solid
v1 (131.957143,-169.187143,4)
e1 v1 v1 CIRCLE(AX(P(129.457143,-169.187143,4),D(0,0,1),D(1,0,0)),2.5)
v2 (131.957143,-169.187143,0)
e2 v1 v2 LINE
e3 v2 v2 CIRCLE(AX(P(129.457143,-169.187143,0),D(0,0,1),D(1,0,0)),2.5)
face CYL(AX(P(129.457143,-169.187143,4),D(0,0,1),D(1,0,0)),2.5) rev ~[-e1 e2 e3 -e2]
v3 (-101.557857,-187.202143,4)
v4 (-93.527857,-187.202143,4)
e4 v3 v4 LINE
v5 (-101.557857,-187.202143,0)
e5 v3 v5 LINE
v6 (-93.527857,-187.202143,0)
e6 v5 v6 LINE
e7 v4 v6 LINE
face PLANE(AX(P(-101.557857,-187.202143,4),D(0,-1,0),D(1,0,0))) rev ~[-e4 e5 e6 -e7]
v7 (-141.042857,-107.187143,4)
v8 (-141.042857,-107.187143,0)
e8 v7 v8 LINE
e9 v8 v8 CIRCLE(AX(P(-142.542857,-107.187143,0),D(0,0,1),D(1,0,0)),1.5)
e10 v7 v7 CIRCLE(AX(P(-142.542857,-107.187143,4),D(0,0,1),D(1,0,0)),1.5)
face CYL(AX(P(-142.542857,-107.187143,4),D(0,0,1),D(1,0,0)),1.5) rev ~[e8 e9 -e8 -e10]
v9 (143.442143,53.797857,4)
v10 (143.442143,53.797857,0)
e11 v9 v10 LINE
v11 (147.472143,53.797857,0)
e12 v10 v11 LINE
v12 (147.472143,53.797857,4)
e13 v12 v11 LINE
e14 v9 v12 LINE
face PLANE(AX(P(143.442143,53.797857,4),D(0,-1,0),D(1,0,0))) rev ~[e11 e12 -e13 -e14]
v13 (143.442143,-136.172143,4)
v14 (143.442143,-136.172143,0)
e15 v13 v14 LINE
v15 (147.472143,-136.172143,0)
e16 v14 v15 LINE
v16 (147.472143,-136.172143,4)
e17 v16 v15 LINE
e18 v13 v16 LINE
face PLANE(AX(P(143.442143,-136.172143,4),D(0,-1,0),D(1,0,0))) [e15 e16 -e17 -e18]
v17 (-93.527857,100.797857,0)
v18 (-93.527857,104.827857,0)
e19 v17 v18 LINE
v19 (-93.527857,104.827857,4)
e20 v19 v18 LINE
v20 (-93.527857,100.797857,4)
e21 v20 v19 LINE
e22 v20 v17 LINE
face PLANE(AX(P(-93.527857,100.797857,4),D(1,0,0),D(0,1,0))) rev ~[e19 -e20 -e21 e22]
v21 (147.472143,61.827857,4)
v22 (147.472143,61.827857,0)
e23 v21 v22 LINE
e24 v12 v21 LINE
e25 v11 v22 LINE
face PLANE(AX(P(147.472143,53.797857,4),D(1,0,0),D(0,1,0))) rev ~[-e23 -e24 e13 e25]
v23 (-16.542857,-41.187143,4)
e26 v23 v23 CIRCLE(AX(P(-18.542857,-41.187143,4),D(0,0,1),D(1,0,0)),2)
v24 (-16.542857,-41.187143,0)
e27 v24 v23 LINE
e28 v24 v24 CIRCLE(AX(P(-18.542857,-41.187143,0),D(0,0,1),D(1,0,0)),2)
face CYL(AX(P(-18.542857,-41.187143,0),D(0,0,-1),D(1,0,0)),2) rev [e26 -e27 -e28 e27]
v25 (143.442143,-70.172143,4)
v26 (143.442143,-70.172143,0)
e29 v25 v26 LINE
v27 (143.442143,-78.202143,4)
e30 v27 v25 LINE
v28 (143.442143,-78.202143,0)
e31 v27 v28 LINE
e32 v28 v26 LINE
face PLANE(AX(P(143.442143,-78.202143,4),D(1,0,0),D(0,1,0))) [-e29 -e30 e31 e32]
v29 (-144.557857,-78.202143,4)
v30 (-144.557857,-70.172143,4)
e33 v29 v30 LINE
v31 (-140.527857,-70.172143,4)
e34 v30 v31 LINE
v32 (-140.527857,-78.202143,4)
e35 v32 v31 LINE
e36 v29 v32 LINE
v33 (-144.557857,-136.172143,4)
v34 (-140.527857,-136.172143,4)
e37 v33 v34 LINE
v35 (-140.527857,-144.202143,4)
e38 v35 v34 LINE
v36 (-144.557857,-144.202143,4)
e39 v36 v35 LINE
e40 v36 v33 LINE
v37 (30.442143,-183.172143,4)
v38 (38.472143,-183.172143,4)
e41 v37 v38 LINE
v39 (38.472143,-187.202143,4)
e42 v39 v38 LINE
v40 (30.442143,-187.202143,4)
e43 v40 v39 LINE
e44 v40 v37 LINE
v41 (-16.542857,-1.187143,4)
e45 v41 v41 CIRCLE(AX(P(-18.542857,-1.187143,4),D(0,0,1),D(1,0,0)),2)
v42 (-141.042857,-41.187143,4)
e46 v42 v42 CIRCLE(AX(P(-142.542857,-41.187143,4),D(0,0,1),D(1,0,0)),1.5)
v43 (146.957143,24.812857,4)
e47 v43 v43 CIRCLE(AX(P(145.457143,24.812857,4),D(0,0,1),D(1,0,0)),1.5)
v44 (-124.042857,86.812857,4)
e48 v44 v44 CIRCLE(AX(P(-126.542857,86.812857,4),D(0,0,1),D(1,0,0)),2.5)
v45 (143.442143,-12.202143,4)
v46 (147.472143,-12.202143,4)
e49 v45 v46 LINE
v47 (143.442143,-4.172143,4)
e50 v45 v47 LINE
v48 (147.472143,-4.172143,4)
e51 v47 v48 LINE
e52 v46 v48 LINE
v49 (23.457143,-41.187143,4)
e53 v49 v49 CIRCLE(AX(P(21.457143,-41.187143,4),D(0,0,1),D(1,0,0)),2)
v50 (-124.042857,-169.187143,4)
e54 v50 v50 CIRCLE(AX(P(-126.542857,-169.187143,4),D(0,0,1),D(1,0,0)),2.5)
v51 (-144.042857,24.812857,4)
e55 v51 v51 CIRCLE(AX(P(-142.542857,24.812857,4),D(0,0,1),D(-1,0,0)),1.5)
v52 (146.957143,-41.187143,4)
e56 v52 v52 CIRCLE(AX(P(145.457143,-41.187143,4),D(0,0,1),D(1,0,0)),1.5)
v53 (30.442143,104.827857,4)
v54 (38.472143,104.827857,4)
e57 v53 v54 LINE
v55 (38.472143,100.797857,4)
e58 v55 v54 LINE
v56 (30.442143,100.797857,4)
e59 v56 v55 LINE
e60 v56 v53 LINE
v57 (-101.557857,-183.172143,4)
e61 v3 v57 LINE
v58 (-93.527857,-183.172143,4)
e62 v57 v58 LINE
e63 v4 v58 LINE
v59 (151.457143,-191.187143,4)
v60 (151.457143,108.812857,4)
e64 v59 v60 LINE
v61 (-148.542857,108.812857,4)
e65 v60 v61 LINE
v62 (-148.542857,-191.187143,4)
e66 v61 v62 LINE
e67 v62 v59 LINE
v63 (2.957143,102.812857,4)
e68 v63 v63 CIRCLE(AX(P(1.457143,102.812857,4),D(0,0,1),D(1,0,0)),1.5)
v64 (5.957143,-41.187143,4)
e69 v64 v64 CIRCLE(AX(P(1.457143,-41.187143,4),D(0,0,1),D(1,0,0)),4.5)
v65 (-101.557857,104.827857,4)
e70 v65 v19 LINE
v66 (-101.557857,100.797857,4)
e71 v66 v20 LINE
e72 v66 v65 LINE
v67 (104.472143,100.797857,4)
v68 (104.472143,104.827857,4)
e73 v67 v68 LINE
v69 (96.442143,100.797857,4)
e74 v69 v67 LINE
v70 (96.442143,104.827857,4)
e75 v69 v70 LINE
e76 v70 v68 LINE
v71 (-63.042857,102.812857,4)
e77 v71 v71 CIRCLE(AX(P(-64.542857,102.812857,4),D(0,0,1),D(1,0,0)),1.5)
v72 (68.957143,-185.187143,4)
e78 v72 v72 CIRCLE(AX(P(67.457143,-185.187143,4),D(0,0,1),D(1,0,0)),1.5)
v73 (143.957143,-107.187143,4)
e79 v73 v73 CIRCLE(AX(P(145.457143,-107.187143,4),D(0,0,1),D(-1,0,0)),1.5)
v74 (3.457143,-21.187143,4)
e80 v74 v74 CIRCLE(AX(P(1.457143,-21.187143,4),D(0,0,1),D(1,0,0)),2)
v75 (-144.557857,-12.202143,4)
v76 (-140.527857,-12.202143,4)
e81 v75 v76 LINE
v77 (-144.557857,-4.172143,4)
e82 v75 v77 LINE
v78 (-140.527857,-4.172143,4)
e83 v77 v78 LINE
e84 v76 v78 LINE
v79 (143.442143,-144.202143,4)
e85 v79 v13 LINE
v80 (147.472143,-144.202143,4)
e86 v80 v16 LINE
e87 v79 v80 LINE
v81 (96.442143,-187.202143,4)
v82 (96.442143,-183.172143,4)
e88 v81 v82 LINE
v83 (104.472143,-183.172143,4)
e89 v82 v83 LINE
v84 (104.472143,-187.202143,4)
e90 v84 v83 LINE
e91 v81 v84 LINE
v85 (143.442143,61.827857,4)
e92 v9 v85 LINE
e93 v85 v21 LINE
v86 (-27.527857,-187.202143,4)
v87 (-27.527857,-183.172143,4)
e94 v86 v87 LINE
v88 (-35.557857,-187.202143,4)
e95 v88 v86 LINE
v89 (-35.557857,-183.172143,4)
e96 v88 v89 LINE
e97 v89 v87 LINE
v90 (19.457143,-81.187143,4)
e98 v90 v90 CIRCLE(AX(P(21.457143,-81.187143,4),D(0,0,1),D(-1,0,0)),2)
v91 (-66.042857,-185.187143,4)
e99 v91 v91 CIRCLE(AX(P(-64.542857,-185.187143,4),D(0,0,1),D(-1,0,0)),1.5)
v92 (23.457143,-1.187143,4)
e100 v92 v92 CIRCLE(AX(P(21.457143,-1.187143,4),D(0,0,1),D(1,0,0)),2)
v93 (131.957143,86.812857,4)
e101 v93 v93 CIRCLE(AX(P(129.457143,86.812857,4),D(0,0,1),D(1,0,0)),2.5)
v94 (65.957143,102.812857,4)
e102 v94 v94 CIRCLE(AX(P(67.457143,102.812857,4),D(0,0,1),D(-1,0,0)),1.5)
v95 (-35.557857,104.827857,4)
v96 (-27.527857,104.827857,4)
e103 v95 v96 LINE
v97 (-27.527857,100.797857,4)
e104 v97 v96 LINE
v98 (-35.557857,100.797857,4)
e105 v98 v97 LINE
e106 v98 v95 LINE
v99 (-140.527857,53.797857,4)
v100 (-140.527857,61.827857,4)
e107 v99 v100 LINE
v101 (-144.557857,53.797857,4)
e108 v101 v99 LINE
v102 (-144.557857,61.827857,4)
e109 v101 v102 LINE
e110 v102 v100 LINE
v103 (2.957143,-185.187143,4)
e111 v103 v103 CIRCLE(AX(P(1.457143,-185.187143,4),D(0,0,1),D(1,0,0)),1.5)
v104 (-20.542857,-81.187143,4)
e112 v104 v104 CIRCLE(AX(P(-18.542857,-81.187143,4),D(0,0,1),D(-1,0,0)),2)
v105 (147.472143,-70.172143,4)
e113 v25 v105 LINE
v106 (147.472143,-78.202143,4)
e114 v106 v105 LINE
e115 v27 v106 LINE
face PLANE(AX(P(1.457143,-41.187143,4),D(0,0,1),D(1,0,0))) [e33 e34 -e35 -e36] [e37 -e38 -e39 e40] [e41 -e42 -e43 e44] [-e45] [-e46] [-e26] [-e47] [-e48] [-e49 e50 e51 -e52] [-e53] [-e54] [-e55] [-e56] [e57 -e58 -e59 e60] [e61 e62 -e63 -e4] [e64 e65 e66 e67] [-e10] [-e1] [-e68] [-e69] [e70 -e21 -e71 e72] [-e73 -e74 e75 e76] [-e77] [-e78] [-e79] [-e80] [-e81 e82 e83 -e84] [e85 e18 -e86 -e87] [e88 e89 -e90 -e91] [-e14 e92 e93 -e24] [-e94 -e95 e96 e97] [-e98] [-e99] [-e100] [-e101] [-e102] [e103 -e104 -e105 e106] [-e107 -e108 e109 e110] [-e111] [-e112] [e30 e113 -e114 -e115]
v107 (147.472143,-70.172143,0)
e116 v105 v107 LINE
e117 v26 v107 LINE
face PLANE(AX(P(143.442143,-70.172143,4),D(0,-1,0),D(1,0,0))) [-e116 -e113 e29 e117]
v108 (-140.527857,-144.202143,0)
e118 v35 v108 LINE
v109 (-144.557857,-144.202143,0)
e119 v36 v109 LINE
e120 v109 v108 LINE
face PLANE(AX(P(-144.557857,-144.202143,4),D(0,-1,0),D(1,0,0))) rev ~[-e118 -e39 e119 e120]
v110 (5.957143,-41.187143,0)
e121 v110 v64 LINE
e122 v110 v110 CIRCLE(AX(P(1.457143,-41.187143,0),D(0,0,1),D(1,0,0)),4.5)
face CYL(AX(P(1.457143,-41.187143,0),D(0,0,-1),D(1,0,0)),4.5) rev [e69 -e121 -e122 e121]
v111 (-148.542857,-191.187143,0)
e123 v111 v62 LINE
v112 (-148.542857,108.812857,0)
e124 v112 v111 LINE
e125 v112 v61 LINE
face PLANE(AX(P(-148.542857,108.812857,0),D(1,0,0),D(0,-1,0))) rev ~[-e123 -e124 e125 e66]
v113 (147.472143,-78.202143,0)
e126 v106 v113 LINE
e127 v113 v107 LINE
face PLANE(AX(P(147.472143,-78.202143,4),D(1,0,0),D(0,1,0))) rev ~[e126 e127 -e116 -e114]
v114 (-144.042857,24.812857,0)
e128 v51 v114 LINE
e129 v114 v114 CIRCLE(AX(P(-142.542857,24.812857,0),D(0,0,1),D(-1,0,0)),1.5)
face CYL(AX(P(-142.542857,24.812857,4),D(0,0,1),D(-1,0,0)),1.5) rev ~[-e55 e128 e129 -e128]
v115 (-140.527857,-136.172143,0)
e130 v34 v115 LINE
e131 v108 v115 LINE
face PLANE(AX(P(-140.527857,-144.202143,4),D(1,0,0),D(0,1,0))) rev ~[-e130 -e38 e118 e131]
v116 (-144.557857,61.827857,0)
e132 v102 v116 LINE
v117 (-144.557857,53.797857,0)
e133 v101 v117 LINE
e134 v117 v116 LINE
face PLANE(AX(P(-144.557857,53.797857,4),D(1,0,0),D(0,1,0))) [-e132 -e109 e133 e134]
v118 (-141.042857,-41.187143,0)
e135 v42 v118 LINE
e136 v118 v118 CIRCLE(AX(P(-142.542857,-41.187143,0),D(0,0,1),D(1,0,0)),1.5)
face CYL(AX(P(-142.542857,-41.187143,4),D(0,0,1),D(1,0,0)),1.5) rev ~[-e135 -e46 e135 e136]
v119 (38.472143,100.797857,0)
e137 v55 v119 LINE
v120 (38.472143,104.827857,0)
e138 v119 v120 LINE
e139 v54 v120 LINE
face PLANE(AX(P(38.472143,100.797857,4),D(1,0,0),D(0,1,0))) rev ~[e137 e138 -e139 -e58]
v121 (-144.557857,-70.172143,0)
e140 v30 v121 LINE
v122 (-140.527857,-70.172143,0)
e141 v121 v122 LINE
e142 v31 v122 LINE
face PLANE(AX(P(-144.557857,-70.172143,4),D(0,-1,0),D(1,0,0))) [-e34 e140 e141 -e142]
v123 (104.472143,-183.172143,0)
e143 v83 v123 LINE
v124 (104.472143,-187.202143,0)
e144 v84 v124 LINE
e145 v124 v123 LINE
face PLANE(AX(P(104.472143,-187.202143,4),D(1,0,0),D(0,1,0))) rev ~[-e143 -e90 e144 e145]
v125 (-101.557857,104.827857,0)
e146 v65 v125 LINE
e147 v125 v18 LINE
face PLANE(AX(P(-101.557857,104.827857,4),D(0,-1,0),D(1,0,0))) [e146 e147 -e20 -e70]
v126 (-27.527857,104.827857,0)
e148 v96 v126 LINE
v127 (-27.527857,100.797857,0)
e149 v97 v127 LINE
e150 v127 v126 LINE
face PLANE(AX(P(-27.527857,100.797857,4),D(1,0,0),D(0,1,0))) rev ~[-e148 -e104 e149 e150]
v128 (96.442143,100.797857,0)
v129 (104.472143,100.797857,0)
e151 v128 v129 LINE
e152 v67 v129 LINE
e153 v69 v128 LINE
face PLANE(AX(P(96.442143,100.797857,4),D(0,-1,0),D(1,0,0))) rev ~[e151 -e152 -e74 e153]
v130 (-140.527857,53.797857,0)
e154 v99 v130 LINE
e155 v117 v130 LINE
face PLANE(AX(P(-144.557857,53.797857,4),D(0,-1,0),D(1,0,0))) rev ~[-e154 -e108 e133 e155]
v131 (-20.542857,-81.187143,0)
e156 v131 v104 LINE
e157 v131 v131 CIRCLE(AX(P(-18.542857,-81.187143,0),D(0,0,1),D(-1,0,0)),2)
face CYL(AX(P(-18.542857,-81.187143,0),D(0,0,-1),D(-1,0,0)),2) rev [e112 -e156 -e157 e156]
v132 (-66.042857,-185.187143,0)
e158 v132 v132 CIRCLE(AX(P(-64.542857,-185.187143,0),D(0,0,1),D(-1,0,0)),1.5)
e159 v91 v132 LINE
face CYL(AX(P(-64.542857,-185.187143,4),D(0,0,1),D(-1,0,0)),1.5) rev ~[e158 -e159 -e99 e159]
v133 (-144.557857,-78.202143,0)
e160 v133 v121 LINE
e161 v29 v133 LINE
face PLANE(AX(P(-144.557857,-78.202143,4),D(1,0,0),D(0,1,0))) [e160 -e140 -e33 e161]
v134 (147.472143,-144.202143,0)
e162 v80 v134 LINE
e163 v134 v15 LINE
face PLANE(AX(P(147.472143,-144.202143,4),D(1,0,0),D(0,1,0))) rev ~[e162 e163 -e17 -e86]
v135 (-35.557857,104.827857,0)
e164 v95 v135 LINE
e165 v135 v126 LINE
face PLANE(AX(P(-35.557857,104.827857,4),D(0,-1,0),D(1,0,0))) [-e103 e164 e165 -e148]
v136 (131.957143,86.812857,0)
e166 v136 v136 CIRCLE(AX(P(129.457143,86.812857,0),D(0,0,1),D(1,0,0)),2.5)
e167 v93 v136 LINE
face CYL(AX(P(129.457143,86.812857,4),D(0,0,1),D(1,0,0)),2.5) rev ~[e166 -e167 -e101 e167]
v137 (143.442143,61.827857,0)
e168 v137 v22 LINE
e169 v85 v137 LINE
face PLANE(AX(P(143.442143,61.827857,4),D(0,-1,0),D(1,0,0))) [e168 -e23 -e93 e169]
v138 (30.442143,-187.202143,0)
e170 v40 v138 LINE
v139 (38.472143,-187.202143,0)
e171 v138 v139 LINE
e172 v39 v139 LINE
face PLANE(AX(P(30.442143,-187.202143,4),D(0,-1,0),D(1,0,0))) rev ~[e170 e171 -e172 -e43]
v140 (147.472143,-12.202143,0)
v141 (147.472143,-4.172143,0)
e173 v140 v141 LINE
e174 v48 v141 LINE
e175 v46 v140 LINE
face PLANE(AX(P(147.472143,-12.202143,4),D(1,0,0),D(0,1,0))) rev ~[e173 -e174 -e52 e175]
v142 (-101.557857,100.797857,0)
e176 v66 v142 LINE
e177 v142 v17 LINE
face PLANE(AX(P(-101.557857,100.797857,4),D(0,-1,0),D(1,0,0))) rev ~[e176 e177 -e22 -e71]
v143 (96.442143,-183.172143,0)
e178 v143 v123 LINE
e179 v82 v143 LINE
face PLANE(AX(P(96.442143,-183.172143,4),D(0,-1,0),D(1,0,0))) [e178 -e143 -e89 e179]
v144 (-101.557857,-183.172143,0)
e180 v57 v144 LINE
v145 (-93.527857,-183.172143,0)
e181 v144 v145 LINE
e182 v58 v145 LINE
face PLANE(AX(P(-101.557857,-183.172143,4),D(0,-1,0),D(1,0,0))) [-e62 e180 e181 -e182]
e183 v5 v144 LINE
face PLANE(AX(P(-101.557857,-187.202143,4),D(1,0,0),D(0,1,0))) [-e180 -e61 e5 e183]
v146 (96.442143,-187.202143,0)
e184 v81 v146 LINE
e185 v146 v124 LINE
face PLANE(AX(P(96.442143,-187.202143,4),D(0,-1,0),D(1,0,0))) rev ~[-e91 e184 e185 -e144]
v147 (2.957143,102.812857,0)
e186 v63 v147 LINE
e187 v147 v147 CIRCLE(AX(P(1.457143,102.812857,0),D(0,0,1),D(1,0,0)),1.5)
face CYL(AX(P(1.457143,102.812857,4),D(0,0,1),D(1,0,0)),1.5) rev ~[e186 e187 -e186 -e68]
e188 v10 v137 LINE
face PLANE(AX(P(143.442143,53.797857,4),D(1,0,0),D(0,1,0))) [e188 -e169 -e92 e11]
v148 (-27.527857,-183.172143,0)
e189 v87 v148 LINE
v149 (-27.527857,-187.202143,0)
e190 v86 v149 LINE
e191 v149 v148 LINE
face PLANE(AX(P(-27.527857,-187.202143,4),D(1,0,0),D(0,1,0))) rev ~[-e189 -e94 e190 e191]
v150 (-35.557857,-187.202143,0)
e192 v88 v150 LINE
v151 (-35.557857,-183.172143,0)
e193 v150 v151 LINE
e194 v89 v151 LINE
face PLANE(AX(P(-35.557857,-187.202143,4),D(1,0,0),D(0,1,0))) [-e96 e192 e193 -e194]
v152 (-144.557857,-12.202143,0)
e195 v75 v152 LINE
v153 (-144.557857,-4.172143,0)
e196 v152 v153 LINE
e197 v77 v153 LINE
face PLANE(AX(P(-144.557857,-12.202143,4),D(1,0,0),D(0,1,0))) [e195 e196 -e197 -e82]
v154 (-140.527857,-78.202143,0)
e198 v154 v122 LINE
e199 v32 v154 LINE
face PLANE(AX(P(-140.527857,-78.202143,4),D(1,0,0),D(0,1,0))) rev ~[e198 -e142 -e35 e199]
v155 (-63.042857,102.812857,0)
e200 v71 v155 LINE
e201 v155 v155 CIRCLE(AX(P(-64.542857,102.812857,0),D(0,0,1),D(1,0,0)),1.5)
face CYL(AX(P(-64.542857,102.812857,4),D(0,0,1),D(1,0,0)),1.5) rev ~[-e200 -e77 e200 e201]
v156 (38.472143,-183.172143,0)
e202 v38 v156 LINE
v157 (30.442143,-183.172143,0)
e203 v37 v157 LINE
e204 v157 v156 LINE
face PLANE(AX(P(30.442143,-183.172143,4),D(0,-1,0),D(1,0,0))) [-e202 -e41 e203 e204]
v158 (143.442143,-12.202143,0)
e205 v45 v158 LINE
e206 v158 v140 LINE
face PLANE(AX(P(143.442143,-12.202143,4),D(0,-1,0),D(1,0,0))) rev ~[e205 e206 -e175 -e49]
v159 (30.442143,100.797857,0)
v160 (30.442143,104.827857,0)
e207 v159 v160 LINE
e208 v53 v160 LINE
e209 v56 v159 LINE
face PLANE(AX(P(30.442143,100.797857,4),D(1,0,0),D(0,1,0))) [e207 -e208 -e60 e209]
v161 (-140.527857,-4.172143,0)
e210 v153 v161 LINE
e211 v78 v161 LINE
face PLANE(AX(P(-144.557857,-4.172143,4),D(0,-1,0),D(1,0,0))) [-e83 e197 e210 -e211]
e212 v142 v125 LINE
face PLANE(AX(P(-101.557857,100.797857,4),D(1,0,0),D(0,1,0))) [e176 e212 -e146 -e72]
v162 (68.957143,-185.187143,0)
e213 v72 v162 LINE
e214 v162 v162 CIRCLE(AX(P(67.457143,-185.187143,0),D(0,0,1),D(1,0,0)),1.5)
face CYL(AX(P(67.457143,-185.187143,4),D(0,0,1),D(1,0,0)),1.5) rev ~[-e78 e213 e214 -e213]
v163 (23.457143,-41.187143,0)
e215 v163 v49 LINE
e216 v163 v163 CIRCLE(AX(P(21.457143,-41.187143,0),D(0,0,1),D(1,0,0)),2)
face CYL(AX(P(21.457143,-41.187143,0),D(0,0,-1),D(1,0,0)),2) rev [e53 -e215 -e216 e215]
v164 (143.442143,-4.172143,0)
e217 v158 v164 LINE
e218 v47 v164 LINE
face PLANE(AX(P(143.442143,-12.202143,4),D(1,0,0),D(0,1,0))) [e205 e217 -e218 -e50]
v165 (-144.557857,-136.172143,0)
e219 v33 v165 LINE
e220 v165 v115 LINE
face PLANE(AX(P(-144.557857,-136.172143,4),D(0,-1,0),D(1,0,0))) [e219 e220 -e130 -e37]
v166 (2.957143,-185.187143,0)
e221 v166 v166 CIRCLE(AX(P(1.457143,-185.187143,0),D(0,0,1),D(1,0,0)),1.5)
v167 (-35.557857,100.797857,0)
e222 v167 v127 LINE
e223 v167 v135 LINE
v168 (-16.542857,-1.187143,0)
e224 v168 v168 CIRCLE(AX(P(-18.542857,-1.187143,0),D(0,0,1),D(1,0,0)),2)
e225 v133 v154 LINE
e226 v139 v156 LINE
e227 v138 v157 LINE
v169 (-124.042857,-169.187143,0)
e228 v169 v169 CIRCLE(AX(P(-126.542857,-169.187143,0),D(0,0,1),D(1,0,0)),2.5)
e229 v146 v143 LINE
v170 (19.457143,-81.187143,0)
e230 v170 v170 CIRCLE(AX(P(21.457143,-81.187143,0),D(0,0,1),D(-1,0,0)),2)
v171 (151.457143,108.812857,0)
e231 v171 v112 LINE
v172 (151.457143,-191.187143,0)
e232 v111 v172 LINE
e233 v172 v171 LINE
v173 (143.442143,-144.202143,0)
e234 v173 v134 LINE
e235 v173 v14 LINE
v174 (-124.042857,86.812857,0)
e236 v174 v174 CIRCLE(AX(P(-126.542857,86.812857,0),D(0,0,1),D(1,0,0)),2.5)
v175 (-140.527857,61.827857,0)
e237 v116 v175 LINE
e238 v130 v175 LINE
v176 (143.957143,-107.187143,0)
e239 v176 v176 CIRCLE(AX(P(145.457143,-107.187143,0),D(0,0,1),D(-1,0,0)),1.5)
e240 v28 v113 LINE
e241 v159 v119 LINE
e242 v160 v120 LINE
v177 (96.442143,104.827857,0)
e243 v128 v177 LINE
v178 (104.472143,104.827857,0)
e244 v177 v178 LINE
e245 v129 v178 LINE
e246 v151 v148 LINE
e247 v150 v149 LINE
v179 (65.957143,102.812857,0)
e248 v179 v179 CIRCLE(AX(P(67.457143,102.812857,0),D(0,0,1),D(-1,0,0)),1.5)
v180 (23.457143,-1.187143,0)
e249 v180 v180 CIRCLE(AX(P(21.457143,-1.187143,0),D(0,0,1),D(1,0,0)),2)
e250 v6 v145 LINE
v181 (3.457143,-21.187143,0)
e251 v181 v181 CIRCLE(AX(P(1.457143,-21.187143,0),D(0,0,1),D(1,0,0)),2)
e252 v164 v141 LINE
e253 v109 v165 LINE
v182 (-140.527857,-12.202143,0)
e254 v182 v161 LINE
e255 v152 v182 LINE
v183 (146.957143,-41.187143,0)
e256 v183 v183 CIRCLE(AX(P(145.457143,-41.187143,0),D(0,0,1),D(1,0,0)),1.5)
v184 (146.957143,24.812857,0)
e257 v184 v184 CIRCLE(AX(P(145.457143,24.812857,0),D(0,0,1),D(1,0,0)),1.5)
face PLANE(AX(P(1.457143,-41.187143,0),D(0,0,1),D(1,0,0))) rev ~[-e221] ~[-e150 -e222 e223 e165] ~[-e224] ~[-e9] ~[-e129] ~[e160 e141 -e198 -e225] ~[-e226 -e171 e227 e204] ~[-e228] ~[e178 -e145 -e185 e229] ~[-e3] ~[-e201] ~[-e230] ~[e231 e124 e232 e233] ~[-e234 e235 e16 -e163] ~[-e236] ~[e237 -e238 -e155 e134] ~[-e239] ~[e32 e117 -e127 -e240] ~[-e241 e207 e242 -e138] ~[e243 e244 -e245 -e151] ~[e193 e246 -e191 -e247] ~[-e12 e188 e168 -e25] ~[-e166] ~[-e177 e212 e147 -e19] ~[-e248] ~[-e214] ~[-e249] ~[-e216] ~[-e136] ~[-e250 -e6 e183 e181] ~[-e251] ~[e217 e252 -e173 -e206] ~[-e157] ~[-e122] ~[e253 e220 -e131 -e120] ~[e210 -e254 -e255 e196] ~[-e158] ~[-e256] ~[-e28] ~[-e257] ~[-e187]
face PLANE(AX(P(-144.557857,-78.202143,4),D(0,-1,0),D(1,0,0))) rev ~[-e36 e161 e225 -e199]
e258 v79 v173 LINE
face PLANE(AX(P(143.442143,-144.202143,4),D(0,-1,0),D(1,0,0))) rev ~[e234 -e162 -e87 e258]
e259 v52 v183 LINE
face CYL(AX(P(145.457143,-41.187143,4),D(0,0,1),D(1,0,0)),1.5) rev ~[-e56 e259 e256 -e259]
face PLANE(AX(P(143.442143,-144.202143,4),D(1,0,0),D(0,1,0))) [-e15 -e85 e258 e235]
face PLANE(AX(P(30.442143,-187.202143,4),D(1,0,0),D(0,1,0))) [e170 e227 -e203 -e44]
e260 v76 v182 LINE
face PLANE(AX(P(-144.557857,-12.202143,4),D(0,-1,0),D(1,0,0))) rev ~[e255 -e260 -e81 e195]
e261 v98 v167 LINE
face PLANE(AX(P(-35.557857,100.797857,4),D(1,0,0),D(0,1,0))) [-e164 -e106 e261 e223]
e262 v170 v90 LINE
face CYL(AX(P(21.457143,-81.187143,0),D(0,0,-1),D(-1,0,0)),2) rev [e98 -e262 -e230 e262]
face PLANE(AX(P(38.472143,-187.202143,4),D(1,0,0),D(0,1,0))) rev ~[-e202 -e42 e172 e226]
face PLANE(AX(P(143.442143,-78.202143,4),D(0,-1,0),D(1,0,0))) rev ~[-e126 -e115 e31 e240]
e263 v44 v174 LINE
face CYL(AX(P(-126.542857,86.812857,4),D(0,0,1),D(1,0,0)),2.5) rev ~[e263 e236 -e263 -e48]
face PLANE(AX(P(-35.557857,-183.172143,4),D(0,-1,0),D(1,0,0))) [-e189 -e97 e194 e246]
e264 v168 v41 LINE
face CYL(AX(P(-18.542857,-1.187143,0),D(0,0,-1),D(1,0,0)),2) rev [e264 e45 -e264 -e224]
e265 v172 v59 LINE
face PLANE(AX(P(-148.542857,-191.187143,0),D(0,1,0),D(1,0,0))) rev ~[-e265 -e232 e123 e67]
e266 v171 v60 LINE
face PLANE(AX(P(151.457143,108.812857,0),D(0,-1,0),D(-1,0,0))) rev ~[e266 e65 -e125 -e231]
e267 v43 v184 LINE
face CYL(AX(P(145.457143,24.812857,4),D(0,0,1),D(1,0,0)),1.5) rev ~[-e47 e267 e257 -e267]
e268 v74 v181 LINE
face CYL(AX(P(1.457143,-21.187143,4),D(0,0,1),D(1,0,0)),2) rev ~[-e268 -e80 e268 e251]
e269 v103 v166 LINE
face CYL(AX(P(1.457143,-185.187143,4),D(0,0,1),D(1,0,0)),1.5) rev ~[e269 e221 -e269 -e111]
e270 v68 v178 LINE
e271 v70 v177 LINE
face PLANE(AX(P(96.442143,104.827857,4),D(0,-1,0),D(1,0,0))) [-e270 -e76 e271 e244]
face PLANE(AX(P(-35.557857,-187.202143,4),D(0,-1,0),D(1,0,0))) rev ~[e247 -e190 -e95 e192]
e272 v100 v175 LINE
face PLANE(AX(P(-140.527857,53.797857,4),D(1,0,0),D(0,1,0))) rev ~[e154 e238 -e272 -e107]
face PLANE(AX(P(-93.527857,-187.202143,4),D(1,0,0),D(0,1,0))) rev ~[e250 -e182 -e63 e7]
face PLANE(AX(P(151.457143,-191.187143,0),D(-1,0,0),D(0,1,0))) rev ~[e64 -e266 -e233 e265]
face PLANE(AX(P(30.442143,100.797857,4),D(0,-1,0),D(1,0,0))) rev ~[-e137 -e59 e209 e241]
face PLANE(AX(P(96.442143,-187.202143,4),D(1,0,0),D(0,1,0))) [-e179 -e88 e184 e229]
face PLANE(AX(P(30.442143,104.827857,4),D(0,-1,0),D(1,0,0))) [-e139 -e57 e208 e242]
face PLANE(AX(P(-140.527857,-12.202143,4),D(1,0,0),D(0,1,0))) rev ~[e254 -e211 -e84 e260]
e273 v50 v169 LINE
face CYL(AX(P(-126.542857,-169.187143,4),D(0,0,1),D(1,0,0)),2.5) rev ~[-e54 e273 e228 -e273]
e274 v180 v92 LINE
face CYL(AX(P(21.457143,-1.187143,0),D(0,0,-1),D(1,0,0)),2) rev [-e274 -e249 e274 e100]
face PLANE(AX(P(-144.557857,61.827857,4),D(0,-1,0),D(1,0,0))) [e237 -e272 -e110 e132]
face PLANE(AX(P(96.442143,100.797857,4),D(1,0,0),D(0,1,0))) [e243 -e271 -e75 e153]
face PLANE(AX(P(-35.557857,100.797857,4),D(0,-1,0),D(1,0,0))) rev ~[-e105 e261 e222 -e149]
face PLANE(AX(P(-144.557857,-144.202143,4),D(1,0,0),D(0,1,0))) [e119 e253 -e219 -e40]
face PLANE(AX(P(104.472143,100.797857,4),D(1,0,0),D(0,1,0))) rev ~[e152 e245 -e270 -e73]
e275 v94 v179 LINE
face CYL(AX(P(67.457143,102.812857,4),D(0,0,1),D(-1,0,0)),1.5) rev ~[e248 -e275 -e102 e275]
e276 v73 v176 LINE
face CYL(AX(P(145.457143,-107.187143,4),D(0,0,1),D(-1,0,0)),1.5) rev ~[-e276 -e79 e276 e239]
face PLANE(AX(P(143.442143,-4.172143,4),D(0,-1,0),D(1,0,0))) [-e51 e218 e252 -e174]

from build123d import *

# Parameters (mm, degrees)
SKETCH_1_R          = 4.5
SKETCH_1_R_2        = 2
EXTRUDE_1_DEPTH     = 4
SKETCH_2_R          = 2
CUT_EXTRUDE_1_DEPTH = 4
SKETCH_3_R          = 1.5
SKETCH_3_W          = 8.03
SKETCH_3_H          = 4.03
SKETCH_3_W_2        = 4.03
SKETCH_3_H_2        = 8.03
CUT_EXTRUDE_2_DEPTH = 4
SKETCH_5_R          = 2.5
CUT_EXTRUDE_4_DEPTH = 10


with BuildPart() as part:
    # 草图1 → 凸台-拉伸1 (new body)
    with BuildSketch(Plane.XY):
        Polygon((151.457142857, -41.187142857), (151.457142857, 108.812857143), (-148.542857143, 108.812857143), (-148.542857143, -191.187142857), (151.457142857, -191.187142857), align=None)
        with Locations((1.457142857, -41.187142857)):
            Circle(SKETCH_1_R, mode=Mode.SUBTRACT)
        with Locations((-18.542857143, -41.187142857)):
            Circle(SKETCH_1_R_2, mode=Mode.SUBTRACT)
        with Locations((-18.542857143, -1.187142857)):
            Circle(SKETCH_1_R_2, mode=Mode.SUBTRACT)
        with Locations((21.457142857, -1.187142857)):
            Circle(SKETCH_1_R_2, mode=Mode.SUBTRACT)
        with Locations((21.457142857, -41.187142857)):
            Circle(SKETCH_1_R_2, mode=Mode.SUBTRACT)
        with Locations(Location((21.457142857, -81.187142857, 0), (0, 0, 180))):
            Circle(SKETCH_1_R_2, mode=Mode.SUBTRACT)
        with Locations(Location((-18.542857143, -81.187142857, 0), (0, 0, 180))):
            Circle(SKETCH_1_R_2, mode=Mode.SUBTRACT)
    extrude(amount=EXTRUDE_1_DEPTH)

    # 草图2 → 切除-拉伸1 (cut)
    with BuildSketch(Plane.XY.offset(4)):
        with Locations((1.457142857, -21.187142857)):
            Circle(SKETCH_2_R)
    extrude(amount=-CUT_EXTRUDE_1_DEPTH, mode=Mode.SUBTRACT)

    # 草图3 → 切除-拉伸2 (cut)
    with BuildSketch(Plane.XY.offset(4)):
        with Locations((1.457142857, -185.187142857)):
            Circle(SKETCH_3_R)
        with Locations((67.457142857, -185.187142857)):
            Circle(SKETCH_3_R)
        with Locations(Location((-64.542857143, -185.187142857, 0), (0, 0, 180))):
            Circle(SKETCH_3_R)
        with Locations(Location((-142.542857143, 24.812857143, 0), (0, 0, 180))):
            Circle(SKETCH_3_R)
        with Locations((-142.542857143, -41.187142857)):
            Circle(SKETCH_3_R)
        with Locations((-142.542857143, -107.187142857)):
            Circle(SKETCH_3_R)
        with Locations(Location((67.457142857, 102.812857143, 0), (0, 0, 180))):
            Circle(SKETCH_3_R)
        with Locations((1.457142857, 102.812857143)):
            Circle(SKETCH_3_R)
        with Locations((-64.542857143, 102.812857143)):
            Circle(SKETCH_3_R)
        with Locations(Location((145.457142857, -107.187142857, 0), (0, 0, 180))):
            Circle(SKETCH_3_R)
        with Locations((145.457142857, -41.187142857)):
            Circle(SKETCH_3_R)
        with Locations((145.457142857, 24.812857143)):
            Circle(SKETCH_3_R)
        with Locations((100.457142857, -185.187142857)):
            Rectangle(SKETCH_3_W, SKETCH_3_H)
        with Locations((34.457142857, -185.187142857)):
            Rectangle(SKETCH_3_W, SKETCH_3_H)
        with Locations((-31.542857143, -185.187142857)):
            Rectangle(SKETCH_3_W, SKETCH_3_H)
        with Locations((-97.542857143, -185.187142857)):
            Rectangle(SKETCH_3_W, SKETCH_3_H)
        with Locations((-142.542857143, 57.812857143)):
            Rectangle(SKETCH_3_W_2, SKETCH_3_H_2)
        with Locations((-142.542857143, -8.187142857)):
            Rectangle(SKETCH_3_W_2, SKETCH_3_H_2)
        with Locations((-142.542857143, -74.187142857)):
            Rectangle(SKETCH_3_W_2, SKETCH_3_H_2)
        with Locations((-142.542857143, -140.187142857)):
            Rectangle(SKETCH_3_W_2, SKETCH_3_H_2)
        with Locations((100.457142857, 102.812857143)):
            Rectangle(SKETCH_3_W, SKETCH_3_H)
        with Locations((34.457142857, 102.812857143)):
            Rectangle(SKETCH_3_W, SKETCH_3_H)
        with Locations((-31.542857143, 102.812857143)):
            Rectangle(SKETCH_3_W, SKETCH_3_H)
        with Locations((-97.542857143, 102.812857143)):
            Rectangle(SKETCH_3_W, SKETCH_3_H)
        with Locations((145.457142857, -140.187142857)):
            Rectangle(SKETCH_3_W_2, SKETCH_3_H_2)
        with Locations((145.457142857, -74.187142857)):
            Rectangle(SKETCH_3_W_2, SKETCH_3_H_2)
        with Locations((145.457142857, -8.187142857)):
            Rectangle(SKETCH_3_W_2, SKETCH_3_H_2)
        with Locations((145.457142857, 57.812857143)):
            Rectangle(SKETCH_3_W_2, SKETCH_3_H_2)
    extrude(amount=-CUT_EXTRUDE_2_DEPTH, mode=Mode.SUBTRACT)

    # 草图5 → 切除-拉伸4 (cut)
    with BuildSketch(Plane.XY.offset(4)):
        with Locations((-126.542857143, 86.812857143)):
            Circle(SKETCH_5_R)
        with Locations((129.457142857, 86.812857143)):
            Circle(SKETCH_5_R)
        with Locations((129.457142857, -169.187142857)):
            Circle(SKETCH_5_R)
        with Locations((-126.542857143, -169.187142857)):
            Circle(SKETCH_5_R)
    extrude(amount=-CUT_EXTRUDE_4_DEPTH, mode=Mode.SUBTRACT)


solid = part.part
